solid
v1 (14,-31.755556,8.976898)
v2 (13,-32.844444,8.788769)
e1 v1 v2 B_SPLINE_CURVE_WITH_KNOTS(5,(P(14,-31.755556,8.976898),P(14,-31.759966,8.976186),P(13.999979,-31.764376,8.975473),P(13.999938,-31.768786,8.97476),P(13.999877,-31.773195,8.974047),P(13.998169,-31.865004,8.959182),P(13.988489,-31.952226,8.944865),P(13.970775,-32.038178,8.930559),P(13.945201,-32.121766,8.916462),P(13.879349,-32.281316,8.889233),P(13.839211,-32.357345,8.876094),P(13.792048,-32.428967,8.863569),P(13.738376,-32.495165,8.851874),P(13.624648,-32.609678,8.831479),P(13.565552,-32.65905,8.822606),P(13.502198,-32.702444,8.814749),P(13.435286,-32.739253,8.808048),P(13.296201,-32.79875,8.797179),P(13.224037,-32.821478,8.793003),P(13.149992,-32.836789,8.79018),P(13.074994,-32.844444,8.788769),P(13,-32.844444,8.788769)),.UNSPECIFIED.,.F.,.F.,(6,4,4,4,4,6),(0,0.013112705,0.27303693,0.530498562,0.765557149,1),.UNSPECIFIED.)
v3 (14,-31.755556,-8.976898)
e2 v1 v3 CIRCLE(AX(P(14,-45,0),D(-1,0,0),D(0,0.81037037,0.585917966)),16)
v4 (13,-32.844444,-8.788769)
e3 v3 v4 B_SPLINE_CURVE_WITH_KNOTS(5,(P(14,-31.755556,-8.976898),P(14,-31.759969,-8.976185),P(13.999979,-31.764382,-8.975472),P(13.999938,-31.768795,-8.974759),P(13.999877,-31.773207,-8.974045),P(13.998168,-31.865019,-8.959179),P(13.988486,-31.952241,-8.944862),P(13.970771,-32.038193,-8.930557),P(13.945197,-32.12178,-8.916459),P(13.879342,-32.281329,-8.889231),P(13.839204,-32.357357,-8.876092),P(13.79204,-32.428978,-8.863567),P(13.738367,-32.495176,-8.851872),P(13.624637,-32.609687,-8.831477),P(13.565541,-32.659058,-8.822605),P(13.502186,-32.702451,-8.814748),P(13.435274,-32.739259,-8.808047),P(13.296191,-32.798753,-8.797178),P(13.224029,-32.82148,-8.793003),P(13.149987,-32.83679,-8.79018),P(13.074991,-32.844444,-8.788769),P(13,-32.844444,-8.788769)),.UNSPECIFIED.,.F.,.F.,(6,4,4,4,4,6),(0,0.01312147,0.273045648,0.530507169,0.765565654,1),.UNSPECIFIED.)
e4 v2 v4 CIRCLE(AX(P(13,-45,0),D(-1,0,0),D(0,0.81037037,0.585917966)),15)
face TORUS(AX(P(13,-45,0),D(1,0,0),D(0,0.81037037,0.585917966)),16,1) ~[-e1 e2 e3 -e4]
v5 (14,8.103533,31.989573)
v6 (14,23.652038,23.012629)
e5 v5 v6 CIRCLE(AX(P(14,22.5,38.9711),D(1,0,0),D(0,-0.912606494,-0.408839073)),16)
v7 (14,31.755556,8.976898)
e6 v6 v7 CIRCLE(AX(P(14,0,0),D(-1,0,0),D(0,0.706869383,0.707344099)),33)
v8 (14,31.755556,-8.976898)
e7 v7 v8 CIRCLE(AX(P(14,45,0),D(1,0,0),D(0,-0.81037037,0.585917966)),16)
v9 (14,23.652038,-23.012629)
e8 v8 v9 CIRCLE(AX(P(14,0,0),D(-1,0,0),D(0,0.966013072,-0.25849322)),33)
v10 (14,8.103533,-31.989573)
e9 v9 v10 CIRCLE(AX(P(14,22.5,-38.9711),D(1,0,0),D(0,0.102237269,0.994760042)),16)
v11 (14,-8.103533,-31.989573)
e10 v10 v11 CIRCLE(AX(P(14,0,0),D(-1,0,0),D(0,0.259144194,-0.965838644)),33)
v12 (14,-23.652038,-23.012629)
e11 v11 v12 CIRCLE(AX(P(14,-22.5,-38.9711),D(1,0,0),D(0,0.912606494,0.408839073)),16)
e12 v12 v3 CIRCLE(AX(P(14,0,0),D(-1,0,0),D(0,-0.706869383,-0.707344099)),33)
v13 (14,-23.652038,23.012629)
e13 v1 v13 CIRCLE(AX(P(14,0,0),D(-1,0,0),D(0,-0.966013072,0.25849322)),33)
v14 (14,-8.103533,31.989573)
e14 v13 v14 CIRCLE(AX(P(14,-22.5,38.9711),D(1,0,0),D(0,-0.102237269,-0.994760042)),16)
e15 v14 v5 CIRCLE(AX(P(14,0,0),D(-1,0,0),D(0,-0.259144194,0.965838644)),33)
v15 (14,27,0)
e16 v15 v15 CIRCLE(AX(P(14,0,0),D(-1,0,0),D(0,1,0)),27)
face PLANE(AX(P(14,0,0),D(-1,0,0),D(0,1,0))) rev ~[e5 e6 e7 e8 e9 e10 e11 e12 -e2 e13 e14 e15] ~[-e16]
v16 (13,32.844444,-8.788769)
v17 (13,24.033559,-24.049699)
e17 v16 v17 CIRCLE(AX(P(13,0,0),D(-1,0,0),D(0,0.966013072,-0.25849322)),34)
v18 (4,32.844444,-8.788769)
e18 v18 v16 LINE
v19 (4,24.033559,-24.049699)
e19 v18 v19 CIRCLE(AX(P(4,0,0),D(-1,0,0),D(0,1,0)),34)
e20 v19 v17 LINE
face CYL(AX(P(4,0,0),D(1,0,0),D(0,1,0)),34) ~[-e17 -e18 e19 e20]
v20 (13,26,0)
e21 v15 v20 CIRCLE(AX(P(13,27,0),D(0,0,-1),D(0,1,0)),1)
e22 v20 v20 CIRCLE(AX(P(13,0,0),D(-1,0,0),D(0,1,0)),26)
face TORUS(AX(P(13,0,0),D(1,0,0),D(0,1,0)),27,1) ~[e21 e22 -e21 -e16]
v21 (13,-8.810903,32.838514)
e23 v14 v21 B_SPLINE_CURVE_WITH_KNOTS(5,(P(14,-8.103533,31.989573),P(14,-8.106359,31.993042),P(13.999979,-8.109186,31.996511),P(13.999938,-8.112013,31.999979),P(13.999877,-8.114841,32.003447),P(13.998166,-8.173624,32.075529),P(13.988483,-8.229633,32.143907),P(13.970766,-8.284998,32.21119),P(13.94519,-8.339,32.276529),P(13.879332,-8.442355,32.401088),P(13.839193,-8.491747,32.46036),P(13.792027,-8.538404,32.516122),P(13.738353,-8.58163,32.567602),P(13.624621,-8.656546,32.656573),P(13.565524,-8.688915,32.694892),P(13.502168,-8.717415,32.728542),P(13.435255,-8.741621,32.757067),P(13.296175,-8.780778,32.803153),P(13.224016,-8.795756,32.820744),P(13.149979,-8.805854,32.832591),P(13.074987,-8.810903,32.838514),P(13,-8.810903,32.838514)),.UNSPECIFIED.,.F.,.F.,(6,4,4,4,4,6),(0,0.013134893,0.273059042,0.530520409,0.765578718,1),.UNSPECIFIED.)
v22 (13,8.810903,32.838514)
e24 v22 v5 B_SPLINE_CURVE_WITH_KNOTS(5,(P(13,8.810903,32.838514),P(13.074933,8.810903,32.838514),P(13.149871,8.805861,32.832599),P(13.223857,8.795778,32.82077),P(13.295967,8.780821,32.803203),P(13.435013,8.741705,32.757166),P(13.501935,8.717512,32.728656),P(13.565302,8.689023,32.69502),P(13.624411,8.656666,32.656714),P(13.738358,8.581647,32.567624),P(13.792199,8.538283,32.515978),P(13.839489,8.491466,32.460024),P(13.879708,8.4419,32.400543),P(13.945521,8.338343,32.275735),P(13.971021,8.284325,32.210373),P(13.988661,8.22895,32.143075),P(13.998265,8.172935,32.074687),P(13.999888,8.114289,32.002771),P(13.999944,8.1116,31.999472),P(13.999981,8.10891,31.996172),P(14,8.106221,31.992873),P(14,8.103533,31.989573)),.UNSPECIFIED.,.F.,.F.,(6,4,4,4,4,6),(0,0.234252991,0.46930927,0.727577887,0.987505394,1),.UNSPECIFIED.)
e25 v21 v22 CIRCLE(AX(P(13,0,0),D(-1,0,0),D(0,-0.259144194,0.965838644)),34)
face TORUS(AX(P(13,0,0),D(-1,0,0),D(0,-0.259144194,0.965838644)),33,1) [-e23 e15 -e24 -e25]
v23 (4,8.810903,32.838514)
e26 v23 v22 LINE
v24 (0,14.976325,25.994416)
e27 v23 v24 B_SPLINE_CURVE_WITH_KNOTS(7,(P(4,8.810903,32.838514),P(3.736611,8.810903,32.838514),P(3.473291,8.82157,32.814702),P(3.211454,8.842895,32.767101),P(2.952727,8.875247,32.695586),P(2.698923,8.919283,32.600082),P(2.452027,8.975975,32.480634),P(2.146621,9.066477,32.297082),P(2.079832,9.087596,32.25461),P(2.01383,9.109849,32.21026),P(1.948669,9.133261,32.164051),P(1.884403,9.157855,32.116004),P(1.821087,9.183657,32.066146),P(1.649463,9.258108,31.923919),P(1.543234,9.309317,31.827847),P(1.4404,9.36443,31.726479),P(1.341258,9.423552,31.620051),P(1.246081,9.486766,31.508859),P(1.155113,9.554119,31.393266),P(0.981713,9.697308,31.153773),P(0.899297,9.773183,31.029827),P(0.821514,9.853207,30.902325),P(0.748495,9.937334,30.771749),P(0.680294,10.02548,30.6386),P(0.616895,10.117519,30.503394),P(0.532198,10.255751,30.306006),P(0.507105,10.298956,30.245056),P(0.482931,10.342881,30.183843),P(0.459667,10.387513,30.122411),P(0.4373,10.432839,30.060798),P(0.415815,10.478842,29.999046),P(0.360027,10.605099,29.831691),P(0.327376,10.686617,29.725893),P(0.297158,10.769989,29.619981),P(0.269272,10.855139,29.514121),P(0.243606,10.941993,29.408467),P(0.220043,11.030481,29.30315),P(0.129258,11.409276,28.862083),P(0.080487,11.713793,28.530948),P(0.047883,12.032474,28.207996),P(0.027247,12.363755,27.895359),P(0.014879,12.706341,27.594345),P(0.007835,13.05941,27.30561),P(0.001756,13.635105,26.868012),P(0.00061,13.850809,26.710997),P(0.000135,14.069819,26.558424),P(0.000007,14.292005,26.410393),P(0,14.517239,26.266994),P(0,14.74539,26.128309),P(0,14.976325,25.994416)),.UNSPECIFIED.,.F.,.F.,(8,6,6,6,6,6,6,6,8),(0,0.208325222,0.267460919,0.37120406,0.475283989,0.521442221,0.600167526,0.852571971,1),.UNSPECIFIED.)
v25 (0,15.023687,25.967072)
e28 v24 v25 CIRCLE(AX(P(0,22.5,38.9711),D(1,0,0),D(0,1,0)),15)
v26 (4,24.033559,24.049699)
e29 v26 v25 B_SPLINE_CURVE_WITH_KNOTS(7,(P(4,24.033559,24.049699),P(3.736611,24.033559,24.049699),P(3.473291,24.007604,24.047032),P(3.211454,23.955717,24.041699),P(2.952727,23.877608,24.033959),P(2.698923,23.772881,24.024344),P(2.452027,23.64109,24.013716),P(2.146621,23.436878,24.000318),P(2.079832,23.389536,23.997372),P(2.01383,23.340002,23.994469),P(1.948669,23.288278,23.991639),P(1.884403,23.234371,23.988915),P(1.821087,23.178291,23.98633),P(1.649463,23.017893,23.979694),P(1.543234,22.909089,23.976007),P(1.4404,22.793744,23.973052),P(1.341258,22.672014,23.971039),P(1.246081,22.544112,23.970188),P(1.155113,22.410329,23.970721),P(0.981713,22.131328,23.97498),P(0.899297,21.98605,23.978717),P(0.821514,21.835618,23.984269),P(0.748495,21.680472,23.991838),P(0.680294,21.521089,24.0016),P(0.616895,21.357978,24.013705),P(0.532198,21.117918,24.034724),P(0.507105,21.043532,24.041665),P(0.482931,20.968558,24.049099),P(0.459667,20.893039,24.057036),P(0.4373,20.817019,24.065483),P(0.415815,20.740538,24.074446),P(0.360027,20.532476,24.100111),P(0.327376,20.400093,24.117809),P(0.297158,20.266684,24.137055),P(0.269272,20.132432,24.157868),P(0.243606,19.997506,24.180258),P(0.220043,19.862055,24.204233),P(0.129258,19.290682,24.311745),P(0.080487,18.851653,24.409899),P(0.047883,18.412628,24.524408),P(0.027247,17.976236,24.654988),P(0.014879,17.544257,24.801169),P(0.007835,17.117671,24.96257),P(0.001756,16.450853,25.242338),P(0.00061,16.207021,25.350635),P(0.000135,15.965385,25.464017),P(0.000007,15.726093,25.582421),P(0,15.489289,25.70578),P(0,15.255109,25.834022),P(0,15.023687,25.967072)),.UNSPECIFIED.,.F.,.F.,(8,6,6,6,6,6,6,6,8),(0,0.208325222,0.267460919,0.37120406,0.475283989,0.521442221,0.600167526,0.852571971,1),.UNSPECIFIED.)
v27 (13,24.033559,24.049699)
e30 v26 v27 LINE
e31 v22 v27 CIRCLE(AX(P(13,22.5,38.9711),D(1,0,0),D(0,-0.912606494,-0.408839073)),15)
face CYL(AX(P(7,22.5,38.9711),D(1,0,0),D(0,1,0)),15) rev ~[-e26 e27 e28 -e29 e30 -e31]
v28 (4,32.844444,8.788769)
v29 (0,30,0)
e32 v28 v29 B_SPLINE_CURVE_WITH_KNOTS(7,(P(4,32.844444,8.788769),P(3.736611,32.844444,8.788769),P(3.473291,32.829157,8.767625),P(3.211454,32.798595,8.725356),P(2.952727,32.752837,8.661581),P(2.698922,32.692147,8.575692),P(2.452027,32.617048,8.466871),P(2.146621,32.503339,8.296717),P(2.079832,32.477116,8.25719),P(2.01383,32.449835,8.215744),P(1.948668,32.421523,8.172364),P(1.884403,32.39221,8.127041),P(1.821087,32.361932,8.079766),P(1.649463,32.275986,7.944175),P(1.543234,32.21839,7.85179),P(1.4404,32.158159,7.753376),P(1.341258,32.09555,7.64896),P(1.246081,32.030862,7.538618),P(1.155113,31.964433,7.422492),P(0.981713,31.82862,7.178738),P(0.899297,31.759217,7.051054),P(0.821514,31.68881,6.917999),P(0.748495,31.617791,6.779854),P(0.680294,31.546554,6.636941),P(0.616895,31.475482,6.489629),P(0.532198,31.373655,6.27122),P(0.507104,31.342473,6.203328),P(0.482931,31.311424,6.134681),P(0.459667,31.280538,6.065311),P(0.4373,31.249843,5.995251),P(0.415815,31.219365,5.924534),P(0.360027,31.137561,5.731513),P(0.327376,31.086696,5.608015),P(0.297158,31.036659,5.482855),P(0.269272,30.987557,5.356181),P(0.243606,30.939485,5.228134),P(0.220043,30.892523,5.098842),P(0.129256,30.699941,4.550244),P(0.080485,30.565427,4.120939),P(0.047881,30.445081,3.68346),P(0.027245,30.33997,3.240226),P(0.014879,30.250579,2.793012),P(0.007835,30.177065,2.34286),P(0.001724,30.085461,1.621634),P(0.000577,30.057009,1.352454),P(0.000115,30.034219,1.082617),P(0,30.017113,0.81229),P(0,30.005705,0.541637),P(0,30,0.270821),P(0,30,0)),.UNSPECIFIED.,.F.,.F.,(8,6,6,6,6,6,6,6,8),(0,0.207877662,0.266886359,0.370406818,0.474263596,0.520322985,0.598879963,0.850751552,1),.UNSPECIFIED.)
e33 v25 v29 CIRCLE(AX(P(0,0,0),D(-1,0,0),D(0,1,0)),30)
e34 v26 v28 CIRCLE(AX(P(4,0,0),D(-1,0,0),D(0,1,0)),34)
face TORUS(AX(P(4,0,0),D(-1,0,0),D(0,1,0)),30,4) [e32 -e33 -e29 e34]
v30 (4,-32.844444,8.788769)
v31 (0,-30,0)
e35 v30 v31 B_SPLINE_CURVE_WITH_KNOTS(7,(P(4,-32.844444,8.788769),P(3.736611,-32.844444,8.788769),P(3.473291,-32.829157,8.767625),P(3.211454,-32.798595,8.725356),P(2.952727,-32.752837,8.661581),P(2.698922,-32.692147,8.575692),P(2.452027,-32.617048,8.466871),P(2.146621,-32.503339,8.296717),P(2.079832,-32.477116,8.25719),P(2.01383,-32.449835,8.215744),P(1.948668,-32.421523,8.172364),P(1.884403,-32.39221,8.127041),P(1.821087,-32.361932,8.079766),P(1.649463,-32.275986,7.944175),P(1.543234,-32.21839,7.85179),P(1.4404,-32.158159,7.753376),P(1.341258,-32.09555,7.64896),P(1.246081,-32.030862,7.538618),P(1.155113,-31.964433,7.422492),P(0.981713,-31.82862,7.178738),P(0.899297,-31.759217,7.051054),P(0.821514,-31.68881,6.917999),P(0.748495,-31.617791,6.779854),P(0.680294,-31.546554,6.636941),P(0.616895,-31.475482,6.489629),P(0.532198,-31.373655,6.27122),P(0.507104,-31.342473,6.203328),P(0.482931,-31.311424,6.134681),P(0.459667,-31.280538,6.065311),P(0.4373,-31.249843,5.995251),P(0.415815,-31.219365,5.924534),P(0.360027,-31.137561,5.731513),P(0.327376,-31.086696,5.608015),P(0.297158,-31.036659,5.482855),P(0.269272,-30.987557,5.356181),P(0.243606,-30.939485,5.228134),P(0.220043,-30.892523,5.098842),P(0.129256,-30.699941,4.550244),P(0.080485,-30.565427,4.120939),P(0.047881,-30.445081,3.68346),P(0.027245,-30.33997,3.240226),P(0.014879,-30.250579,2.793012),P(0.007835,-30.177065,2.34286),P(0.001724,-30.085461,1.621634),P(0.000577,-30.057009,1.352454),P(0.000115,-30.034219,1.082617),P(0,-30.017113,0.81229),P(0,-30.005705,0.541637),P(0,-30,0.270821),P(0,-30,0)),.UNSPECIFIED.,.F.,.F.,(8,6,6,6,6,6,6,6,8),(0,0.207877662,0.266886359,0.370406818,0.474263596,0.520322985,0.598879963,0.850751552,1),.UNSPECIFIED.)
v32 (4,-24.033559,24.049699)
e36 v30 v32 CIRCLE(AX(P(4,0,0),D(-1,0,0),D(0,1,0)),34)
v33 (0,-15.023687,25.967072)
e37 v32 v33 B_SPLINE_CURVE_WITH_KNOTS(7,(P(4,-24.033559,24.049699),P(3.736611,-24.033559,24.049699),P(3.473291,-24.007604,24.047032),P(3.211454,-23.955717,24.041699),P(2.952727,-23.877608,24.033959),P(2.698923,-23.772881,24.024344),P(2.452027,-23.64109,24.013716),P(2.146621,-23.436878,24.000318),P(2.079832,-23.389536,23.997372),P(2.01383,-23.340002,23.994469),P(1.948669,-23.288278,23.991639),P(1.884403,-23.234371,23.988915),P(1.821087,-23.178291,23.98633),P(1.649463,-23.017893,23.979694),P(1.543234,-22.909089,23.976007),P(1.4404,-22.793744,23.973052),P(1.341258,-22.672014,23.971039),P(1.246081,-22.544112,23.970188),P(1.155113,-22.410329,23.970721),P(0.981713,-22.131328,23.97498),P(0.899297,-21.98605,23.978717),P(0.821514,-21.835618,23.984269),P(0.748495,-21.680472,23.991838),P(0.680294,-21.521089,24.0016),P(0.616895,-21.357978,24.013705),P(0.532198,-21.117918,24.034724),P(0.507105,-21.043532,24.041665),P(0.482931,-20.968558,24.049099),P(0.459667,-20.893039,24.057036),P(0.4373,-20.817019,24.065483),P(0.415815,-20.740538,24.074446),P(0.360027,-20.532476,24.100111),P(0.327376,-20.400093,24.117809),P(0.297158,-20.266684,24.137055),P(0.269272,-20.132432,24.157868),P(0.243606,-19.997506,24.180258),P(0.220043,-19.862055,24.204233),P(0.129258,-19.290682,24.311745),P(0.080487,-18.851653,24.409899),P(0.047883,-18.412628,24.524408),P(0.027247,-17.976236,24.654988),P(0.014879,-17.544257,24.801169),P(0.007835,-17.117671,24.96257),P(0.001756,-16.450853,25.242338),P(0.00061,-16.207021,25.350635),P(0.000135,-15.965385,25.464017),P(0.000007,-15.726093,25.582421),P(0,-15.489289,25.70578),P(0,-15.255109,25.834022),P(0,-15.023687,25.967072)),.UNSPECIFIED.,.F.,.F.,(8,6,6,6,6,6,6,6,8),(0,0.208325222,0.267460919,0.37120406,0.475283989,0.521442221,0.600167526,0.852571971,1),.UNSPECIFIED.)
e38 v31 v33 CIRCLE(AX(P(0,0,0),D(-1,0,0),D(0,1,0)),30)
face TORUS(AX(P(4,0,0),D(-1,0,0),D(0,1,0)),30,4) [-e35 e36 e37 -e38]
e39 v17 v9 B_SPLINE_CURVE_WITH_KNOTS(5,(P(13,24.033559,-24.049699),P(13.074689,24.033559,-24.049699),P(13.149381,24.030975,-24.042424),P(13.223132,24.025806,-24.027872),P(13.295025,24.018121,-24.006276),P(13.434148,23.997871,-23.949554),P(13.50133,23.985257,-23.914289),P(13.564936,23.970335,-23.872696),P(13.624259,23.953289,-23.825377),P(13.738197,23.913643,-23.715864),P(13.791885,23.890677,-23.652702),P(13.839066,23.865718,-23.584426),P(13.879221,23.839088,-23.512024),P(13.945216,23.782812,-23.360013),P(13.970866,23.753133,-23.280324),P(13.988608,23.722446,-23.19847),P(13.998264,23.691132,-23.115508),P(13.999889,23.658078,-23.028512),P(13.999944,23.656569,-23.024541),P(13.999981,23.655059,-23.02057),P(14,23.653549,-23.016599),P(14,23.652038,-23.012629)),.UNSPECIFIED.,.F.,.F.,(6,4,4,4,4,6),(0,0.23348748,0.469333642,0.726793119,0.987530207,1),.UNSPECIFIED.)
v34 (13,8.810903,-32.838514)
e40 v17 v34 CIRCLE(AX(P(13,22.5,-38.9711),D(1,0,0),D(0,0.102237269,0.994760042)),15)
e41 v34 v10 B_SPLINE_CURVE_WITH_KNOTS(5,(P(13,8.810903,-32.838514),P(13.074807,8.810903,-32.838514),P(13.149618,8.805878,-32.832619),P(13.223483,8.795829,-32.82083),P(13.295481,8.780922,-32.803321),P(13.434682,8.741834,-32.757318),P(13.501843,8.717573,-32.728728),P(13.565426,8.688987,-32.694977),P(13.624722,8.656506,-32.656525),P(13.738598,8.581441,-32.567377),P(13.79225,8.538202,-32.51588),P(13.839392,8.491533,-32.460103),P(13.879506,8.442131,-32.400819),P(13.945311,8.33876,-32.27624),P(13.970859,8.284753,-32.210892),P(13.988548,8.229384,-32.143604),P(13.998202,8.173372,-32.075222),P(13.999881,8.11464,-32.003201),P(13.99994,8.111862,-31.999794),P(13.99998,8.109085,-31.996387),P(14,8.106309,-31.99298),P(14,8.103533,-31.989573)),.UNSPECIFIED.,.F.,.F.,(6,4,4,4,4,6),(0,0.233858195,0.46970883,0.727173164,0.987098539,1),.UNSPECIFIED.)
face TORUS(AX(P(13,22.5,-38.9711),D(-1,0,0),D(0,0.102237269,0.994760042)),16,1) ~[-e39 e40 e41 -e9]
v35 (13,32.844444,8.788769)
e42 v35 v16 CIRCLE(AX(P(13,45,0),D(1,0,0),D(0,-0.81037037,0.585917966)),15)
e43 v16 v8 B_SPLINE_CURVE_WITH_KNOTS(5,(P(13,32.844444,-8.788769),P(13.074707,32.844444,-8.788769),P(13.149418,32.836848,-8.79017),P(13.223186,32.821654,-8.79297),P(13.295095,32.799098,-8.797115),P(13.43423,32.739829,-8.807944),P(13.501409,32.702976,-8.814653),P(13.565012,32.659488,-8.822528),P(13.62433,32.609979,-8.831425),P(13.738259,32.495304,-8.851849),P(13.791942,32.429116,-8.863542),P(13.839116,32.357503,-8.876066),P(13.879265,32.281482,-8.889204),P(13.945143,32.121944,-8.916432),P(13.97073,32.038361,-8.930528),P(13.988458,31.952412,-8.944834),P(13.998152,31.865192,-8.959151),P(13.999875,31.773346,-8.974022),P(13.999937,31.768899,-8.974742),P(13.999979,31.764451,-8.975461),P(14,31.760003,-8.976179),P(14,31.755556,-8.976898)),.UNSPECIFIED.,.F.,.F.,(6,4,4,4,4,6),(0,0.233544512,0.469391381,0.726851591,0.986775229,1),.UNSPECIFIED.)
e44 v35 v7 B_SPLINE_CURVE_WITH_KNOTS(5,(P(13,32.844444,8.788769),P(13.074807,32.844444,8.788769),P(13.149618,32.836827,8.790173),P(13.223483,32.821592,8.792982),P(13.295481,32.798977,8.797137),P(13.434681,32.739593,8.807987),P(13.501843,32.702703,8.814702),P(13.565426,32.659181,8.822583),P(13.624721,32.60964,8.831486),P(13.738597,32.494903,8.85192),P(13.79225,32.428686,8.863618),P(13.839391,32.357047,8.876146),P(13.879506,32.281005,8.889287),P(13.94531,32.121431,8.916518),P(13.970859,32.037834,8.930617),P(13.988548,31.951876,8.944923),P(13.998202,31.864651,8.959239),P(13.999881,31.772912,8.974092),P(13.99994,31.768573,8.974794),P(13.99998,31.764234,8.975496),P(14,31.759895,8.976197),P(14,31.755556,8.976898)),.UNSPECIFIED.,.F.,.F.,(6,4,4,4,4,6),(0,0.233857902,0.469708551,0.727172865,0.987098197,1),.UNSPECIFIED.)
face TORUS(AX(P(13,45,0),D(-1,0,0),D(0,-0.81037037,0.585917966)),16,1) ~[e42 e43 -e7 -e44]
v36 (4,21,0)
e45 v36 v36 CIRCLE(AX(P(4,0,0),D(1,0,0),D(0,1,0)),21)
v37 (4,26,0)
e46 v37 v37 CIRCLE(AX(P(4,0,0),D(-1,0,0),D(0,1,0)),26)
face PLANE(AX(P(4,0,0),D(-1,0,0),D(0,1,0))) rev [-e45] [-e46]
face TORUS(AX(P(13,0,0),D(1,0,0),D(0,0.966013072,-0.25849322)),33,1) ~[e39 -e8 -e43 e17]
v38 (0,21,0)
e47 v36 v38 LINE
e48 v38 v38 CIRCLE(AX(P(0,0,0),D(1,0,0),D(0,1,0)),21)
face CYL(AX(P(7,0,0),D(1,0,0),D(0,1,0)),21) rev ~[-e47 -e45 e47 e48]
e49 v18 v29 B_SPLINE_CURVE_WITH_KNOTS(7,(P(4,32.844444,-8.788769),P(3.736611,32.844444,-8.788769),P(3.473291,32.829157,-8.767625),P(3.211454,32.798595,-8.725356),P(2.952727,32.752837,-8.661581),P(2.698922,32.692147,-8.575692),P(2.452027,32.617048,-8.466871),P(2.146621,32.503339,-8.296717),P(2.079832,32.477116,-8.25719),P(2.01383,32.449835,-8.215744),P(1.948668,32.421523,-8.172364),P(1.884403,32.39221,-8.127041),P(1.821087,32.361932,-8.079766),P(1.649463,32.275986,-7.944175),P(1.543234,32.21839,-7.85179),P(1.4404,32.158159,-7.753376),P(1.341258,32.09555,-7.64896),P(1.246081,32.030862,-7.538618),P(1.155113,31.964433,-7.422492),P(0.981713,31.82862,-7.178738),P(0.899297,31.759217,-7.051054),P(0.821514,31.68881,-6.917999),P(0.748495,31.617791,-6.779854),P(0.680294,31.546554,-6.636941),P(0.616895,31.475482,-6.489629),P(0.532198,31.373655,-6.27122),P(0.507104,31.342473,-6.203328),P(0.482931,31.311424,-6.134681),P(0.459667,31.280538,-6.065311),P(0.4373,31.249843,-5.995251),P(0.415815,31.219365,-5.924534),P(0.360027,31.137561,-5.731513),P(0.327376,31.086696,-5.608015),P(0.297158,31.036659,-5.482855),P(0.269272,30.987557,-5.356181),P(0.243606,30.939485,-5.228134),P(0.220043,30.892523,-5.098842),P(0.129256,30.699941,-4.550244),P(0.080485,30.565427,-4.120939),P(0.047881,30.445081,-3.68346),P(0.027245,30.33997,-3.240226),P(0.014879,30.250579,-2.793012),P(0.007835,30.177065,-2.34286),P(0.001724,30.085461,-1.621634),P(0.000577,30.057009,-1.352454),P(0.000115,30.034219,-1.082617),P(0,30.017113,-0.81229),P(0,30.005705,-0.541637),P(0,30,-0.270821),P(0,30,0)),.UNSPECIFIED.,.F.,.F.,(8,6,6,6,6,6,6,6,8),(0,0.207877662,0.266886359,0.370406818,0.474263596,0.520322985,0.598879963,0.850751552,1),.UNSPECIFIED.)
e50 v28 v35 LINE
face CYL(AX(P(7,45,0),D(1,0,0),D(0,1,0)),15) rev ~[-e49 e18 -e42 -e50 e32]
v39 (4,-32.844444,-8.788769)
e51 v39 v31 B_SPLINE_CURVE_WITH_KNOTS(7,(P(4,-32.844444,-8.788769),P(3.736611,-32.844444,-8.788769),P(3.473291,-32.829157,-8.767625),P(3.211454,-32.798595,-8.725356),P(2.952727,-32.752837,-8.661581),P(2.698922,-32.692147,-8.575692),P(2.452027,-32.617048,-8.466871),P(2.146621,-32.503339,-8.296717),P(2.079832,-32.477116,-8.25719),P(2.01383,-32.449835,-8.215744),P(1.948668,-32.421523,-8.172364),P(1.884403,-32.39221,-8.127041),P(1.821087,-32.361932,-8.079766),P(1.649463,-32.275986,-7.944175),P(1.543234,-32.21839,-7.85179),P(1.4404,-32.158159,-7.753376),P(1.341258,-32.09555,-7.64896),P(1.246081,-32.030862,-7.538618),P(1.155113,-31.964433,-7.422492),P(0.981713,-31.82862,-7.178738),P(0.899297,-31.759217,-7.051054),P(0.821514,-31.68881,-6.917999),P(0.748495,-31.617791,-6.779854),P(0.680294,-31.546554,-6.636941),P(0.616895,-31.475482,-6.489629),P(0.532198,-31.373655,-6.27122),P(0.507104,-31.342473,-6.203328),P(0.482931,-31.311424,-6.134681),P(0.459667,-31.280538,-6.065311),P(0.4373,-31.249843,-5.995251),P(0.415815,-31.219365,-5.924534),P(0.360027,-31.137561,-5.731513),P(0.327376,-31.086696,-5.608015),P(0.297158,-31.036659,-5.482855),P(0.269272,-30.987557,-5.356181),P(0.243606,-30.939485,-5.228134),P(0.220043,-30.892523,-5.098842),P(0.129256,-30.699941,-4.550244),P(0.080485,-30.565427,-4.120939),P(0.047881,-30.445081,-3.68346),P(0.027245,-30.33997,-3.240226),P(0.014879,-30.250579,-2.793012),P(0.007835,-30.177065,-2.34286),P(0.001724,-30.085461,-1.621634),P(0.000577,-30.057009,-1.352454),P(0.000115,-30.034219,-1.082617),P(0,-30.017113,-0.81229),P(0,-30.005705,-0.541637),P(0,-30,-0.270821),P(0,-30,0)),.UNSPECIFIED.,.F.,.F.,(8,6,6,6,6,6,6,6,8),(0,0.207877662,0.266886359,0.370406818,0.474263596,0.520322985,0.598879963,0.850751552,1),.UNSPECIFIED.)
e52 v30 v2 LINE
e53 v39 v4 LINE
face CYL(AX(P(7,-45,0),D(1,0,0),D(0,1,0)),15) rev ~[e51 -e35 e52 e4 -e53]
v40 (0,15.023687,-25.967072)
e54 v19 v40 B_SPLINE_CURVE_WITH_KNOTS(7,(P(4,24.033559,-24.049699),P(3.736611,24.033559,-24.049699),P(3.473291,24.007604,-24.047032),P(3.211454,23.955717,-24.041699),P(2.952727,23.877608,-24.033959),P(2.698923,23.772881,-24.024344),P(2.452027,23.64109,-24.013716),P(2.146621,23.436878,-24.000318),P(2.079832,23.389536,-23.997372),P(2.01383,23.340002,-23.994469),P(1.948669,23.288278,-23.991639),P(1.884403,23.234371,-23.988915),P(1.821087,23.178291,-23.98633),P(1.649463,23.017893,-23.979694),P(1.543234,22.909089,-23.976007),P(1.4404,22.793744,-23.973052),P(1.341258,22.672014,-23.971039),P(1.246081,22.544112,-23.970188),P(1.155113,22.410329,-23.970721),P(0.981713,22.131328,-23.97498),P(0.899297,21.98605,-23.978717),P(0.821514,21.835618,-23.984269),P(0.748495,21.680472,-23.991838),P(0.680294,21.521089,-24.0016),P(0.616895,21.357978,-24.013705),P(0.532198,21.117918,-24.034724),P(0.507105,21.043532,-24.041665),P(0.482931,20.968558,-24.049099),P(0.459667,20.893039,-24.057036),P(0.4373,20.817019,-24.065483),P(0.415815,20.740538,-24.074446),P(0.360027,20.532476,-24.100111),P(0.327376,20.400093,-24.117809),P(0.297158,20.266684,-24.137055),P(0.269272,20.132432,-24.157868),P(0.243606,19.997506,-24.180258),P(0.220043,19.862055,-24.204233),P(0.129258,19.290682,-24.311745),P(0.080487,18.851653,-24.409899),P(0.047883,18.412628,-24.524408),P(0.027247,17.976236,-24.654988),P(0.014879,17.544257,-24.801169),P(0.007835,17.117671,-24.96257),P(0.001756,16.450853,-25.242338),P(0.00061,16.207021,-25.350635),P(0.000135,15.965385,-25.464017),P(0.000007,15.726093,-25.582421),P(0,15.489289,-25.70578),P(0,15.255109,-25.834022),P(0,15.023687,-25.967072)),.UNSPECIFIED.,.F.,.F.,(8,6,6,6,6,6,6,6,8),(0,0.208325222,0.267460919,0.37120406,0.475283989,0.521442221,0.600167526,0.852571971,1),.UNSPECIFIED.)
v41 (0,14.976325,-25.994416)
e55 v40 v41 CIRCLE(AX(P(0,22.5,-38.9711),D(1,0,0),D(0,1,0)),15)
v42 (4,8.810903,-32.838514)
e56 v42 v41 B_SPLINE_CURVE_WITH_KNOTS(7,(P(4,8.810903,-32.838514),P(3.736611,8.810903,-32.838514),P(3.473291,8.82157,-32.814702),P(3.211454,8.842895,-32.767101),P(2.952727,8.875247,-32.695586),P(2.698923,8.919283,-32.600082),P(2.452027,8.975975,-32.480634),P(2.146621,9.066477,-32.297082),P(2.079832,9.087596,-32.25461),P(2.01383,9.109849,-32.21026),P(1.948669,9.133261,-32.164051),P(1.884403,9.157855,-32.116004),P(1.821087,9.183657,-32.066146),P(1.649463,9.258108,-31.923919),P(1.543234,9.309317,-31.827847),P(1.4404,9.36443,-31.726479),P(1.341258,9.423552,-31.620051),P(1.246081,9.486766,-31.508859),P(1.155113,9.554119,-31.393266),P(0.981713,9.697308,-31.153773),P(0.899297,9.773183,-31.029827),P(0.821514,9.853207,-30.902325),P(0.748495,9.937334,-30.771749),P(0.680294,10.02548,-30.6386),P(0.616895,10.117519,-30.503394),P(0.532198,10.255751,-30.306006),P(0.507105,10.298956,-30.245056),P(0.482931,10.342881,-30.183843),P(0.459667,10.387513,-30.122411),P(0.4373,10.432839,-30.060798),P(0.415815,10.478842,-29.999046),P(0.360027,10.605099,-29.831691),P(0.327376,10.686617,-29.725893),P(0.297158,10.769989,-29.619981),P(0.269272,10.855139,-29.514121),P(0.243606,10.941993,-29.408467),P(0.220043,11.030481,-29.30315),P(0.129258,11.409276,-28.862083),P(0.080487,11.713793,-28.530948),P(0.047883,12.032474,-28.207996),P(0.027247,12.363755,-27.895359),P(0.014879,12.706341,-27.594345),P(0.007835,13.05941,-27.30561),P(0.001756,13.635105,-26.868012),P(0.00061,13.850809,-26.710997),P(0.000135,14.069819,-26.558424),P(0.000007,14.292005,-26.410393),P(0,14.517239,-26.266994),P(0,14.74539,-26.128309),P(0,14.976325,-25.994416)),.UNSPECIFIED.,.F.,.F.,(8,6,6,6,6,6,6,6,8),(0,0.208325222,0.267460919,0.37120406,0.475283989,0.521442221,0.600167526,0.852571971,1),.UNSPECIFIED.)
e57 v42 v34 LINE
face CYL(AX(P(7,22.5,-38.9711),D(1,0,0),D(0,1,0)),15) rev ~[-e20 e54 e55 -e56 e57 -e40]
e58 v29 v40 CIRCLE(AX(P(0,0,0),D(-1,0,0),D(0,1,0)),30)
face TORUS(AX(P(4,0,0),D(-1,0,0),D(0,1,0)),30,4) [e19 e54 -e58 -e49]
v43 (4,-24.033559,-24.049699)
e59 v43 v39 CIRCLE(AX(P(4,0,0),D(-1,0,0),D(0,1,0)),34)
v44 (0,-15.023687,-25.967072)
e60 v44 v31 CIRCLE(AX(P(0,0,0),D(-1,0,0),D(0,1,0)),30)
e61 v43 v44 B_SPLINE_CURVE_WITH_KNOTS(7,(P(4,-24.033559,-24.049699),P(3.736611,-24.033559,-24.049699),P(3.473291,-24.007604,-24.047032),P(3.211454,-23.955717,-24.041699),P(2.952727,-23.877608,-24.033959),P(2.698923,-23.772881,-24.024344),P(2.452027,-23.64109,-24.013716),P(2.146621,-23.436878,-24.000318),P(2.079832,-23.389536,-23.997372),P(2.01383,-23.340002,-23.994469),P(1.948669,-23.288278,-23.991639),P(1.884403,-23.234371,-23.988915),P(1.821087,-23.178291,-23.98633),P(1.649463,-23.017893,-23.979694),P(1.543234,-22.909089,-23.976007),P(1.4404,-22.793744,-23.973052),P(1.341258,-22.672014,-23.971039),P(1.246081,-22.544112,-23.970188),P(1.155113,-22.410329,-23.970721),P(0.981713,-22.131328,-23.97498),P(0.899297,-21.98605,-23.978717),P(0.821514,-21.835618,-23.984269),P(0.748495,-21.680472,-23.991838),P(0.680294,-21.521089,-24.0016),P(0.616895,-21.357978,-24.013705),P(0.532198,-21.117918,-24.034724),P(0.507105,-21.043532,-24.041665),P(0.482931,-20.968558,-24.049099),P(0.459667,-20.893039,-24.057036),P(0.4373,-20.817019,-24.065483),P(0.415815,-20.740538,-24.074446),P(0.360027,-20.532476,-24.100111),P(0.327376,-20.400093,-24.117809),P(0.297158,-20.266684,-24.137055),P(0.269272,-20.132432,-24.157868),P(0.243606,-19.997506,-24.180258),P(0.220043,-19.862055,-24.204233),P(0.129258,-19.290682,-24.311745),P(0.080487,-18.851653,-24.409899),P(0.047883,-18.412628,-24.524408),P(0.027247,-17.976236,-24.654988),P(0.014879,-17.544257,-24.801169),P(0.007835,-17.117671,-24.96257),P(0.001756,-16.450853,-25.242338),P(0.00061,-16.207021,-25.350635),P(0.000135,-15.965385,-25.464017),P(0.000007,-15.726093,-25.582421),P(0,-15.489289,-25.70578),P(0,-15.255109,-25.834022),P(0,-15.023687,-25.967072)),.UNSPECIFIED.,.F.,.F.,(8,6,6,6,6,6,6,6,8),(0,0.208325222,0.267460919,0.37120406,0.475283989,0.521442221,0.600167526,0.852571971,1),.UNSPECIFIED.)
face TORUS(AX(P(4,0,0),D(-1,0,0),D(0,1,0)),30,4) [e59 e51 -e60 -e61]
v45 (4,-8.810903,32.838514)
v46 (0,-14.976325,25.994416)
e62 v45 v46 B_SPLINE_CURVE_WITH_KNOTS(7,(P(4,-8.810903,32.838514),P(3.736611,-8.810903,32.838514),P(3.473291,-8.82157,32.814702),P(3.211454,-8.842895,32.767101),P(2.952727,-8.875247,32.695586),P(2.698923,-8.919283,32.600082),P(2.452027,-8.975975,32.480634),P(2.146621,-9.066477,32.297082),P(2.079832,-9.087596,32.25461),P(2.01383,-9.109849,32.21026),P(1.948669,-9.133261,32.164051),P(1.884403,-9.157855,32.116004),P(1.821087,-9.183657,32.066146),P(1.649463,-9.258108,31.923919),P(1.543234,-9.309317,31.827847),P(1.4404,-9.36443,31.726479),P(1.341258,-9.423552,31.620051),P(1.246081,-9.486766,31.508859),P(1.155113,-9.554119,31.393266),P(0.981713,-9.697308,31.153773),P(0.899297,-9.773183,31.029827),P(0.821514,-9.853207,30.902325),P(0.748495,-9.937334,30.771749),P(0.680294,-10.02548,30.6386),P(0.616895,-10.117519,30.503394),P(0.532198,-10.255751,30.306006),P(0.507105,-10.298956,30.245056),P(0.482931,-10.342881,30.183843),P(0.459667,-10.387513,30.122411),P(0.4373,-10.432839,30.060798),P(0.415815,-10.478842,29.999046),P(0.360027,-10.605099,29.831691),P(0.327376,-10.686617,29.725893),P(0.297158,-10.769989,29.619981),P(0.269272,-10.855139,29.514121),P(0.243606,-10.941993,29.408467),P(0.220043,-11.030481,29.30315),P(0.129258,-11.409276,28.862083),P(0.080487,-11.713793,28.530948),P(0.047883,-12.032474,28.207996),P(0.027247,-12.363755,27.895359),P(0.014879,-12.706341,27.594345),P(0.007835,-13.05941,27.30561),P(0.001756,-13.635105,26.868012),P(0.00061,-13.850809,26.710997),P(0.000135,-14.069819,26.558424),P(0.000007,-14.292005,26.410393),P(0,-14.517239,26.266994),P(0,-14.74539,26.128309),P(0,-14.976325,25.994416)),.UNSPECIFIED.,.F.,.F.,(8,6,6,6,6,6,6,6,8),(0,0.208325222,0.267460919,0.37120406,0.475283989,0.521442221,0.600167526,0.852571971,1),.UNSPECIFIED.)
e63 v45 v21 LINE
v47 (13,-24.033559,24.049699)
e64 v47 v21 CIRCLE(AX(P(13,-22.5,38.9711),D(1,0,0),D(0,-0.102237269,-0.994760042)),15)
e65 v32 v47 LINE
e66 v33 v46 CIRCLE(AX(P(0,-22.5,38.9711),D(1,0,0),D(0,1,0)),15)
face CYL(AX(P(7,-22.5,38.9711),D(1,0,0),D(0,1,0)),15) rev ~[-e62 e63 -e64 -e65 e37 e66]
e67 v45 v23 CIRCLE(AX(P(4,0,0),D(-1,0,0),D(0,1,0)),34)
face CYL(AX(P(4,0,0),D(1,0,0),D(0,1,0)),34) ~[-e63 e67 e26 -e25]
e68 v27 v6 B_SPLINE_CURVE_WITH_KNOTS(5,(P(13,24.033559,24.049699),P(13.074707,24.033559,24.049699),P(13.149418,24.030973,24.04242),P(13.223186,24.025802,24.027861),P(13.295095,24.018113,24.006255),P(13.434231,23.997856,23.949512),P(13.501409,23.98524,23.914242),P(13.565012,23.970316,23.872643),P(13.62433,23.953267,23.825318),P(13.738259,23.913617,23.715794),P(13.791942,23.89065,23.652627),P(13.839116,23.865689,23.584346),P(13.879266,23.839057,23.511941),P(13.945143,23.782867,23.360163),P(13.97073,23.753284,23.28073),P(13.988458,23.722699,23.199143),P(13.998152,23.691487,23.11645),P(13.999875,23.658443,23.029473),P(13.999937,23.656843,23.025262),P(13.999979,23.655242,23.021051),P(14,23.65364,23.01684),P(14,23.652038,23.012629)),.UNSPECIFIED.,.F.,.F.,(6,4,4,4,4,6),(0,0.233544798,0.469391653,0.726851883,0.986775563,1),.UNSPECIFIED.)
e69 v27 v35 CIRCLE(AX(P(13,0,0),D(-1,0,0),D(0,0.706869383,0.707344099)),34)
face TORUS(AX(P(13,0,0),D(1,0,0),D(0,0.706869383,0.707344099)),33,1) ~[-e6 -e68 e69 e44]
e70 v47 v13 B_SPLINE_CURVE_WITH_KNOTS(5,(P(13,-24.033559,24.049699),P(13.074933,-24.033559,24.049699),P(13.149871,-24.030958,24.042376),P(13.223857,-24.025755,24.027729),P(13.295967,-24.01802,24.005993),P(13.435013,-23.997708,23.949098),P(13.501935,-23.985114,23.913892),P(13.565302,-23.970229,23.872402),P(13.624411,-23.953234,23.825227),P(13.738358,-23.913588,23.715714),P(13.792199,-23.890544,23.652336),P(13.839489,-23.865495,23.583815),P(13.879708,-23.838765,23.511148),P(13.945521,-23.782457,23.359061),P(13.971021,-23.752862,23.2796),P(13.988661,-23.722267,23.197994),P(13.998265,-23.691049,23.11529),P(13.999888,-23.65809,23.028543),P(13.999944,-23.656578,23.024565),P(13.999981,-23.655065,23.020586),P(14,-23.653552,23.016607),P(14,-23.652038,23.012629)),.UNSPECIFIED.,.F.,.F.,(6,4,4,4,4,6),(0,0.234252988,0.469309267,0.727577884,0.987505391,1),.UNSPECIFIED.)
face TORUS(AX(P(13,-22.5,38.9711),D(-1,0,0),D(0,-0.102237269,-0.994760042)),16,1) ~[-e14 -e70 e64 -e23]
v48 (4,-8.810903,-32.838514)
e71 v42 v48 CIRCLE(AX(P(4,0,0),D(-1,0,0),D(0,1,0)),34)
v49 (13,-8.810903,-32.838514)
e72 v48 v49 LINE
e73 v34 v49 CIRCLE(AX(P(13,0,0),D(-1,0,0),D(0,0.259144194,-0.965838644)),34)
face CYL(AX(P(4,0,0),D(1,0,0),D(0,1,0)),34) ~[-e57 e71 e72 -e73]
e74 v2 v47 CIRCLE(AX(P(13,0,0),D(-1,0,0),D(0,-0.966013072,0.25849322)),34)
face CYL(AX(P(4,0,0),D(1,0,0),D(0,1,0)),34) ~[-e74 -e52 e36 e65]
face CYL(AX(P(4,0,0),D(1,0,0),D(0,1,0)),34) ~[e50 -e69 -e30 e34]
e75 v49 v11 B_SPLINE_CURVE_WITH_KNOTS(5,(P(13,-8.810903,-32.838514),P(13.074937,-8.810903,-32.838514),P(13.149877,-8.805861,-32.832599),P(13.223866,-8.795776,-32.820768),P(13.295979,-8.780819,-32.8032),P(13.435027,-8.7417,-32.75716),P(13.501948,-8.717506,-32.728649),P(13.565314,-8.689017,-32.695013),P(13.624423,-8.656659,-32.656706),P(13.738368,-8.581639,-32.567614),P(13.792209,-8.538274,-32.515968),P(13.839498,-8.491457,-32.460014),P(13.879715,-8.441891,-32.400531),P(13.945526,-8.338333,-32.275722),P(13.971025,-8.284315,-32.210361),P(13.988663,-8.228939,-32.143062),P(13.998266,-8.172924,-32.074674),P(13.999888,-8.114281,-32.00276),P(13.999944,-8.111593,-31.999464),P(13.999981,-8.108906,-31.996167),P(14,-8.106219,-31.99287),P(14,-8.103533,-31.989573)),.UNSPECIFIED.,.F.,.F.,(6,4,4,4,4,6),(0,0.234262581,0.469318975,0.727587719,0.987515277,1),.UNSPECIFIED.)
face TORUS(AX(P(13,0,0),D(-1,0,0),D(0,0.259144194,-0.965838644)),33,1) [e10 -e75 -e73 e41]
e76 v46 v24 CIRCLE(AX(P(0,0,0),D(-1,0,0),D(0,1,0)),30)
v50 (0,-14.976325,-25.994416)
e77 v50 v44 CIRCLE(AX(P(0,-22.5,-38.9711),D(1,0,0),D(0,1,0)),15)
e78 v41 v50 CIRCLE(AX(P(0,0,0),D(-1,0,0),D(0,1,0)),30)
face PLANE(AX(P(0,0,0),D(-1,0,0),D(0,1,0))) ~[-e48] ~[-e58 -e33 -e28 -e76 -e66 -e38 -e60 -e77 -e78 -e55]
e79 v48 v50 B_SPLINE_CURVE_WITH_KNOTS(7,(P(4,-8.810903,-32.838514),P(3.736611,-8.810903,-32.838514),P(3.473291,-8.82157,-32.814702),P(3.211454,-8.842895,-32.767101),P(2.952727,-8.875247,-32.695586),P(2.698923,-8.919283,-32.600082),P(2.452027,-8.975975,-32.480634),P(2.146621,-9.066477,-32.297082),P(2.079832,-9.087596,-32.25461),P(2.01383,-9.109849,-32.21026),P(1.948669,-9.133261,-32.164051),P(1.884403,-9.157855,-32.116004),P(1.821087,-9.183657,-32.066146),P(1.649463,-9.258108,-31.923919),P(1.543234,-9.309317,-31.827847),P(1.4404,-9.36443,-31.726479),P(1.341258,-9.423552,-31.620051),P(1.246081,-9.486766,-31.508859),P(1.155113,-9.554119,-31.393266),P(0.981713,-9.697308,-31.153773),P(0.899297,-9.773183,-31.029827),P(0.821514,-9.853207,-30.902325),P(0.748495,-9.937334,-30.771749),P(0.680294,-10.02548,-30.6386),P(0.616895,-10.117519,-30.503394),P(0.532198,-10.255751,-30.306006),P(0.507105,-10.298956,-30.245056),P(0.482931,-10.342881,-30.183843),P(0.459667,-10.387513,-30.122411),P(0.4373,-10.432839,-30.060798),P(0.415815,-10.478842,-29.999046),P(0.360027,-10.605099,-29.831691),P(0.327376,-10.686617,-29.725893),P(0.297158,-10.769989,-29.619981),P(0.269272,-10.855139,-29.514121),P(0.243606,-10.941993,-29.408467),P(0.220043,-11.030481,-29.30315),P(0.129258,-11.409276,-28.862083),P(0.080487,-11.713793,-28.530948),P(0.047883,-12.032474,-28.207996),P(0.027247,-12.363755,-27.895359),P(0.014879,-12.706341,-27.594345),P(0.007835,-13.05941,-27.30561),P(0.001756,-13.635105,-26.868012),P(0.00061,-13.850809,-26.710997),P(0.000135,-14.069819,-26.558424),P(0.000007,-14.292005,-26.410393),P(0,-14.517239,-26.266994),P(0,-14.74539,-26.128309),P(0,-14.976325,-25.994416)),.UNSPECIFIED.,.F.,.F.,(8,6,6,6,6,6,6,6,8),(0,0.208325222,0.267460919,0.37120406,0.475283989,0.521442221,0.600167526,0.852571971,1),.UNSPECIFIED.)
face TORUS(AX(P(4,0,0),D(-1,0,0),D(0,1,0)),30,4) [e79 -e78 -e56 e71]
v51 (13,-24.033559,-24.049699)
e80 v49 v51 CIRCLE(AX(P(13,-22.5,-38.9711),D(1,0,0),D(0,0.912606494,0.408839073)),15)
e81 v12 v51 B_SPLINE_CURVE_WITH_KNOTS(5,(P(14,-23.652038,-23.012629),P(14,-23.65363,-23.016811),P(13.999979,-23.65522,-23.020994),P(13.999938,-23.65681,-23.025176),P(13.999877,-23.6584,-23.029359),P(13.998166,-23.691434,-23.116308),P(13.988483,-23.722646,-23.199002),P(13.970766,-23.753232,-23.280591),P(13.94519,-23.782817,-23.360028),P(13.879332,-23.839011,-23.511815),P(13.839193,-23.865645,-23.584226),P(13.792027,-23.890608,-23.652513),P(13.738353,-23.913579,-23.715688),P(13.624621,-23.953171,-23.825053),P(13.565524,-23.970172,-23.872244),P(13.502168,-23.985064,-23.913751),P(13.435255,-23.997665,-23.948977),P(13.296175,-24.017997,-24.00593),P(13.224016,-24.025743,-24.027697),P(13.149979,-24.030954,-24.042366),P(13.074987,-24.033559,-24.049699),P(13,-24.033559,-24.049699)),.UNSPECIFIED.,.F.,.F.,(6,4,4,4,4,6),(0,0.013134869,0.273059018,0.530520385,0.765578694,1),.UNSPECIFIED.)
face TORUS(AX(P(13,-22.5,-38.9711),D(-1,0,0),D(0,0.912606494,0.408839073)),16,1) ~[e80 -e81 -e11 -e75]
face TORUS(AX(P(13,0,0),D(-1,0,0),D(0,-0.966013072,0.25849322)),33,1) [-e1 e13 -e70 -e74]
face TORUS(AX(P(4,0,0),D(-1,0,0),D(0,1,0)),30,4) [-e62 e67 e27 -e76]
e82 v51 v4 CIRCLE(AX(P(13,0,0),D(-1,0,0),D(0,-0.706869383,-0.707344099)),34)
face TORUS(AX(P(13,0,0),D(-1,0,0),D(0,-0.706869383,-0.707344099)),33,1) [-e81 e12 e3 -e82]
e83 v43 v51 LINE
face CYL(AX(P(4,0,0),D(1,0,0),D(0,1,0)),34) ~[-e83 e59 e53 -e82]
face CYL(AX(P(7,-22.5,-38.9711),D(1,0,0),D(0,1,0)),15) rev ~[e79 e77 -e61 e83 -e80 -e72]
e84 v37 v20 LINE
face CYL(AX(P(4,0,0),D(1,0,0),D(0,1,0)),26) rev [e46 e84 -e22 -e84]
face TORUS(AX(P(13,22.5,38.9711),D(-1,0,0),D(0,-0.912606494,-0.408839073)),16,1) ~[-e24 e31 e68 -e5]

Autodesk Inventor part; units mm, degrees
ref_plane "XZ Plane" through (0, 0, 0) normal (0, 1, 0) x (-1, 0, 0)
ref_plane "XY Plane" through (0, 0, 0) normal (0, 0, 1) x (1, 0, 0)
sketch "Эскиз1" plane through (0, 0, 0) normal (0, 0, 1) x (1, 0, 0)
  line L0 (0, 0) -> (0, 30)
  line L1 (4, 34) -> (14, 34)
  line L2 (14, 34) -> (14, 26)
  line L3 (4, 0) -> (0, 0)
  arc A0 (4, 34) -> (0, 30) centre (4, 30) ccw
  line L4 (4, 0) -> (4, 26)
  line L5 (4, 26) -> (14, 26)
  dimension "d3" = 4
  dimension "d4" = 30
  dimension "d5" = 8
  dimension "d6" = 4
  dimension "d7" = 10
  dimension "d8" = 26
revolve "Вращение1" add sketch "Эскиз1" angle 360 about axis through (4, 0, 0) along (-1, 0, 0)
ref_plane "РабПлоскость1" through (7, 0, 0) normal (1, 0, 0) x (0, 1, 0)
sketch "Эскиз4" plane through (7, 0, 0) normal (1, 0, 0) x (0, 1, 0)
  circle A0 centre (0, 0) radius 45
  circle A1 centre (45, 0) radius 15
  circle A2 centre (22.5, 38.9711) radius 15
  circle A3 centre (-22.5, 38.9711) radius 15
  circle A4 centre (-45, 0) radius 15
  circle A5 centre (-22.5, -38.9711) radius 15
  circle A6 centre (22.5, -38.9711) radius 15
  dimension "d10" = 90
  dimension "d11" = 30
  dimension "d14" = 360
extrude "Выдавливание1" cut sketch "Эскиз4" along normal through all both and the other way through all contours A0 A1 | A0 A1 | A2 A0 | A0 A2 | A6 A0 | A0 A6 | A3 A0 | A0 A3 | A5 A0 | A0 A5 | A4 A0 | A0 A4
sketch "Эскиз5" plane through (7, 0, 0) normal (1, 0, 0) x (0, 1, 0)
  circle A0 centre (0, 0) radius 21
  dimension "d18" = 42
extrude "Выдавливание2" cut sketch "Эскиз5" along normal through all both and the other way through all
thread "Резьба1" size "M52x5" class "6H" standard "ISO Metric profile" full length
thread "Резьба2" size "M52x5" class "6H" standard "ANSI Metric M Profile" full length
fillet "Сопряжение1" radius 1 13 edges at (14, 15, -25.9808) (14, 29.4449, -17) (14, 30, 0) (14, 29.4449, 17) (14, 15, 25.9808) (14, 0, 34) (14, -15, 25.9808) (14, -29.4449, 17) (14, -30, 0) (14, -29.4449, -17) (14, -15, -25.9808) (14, 0, -34) (14, -26, 0)
properties part number "Крышка М"
